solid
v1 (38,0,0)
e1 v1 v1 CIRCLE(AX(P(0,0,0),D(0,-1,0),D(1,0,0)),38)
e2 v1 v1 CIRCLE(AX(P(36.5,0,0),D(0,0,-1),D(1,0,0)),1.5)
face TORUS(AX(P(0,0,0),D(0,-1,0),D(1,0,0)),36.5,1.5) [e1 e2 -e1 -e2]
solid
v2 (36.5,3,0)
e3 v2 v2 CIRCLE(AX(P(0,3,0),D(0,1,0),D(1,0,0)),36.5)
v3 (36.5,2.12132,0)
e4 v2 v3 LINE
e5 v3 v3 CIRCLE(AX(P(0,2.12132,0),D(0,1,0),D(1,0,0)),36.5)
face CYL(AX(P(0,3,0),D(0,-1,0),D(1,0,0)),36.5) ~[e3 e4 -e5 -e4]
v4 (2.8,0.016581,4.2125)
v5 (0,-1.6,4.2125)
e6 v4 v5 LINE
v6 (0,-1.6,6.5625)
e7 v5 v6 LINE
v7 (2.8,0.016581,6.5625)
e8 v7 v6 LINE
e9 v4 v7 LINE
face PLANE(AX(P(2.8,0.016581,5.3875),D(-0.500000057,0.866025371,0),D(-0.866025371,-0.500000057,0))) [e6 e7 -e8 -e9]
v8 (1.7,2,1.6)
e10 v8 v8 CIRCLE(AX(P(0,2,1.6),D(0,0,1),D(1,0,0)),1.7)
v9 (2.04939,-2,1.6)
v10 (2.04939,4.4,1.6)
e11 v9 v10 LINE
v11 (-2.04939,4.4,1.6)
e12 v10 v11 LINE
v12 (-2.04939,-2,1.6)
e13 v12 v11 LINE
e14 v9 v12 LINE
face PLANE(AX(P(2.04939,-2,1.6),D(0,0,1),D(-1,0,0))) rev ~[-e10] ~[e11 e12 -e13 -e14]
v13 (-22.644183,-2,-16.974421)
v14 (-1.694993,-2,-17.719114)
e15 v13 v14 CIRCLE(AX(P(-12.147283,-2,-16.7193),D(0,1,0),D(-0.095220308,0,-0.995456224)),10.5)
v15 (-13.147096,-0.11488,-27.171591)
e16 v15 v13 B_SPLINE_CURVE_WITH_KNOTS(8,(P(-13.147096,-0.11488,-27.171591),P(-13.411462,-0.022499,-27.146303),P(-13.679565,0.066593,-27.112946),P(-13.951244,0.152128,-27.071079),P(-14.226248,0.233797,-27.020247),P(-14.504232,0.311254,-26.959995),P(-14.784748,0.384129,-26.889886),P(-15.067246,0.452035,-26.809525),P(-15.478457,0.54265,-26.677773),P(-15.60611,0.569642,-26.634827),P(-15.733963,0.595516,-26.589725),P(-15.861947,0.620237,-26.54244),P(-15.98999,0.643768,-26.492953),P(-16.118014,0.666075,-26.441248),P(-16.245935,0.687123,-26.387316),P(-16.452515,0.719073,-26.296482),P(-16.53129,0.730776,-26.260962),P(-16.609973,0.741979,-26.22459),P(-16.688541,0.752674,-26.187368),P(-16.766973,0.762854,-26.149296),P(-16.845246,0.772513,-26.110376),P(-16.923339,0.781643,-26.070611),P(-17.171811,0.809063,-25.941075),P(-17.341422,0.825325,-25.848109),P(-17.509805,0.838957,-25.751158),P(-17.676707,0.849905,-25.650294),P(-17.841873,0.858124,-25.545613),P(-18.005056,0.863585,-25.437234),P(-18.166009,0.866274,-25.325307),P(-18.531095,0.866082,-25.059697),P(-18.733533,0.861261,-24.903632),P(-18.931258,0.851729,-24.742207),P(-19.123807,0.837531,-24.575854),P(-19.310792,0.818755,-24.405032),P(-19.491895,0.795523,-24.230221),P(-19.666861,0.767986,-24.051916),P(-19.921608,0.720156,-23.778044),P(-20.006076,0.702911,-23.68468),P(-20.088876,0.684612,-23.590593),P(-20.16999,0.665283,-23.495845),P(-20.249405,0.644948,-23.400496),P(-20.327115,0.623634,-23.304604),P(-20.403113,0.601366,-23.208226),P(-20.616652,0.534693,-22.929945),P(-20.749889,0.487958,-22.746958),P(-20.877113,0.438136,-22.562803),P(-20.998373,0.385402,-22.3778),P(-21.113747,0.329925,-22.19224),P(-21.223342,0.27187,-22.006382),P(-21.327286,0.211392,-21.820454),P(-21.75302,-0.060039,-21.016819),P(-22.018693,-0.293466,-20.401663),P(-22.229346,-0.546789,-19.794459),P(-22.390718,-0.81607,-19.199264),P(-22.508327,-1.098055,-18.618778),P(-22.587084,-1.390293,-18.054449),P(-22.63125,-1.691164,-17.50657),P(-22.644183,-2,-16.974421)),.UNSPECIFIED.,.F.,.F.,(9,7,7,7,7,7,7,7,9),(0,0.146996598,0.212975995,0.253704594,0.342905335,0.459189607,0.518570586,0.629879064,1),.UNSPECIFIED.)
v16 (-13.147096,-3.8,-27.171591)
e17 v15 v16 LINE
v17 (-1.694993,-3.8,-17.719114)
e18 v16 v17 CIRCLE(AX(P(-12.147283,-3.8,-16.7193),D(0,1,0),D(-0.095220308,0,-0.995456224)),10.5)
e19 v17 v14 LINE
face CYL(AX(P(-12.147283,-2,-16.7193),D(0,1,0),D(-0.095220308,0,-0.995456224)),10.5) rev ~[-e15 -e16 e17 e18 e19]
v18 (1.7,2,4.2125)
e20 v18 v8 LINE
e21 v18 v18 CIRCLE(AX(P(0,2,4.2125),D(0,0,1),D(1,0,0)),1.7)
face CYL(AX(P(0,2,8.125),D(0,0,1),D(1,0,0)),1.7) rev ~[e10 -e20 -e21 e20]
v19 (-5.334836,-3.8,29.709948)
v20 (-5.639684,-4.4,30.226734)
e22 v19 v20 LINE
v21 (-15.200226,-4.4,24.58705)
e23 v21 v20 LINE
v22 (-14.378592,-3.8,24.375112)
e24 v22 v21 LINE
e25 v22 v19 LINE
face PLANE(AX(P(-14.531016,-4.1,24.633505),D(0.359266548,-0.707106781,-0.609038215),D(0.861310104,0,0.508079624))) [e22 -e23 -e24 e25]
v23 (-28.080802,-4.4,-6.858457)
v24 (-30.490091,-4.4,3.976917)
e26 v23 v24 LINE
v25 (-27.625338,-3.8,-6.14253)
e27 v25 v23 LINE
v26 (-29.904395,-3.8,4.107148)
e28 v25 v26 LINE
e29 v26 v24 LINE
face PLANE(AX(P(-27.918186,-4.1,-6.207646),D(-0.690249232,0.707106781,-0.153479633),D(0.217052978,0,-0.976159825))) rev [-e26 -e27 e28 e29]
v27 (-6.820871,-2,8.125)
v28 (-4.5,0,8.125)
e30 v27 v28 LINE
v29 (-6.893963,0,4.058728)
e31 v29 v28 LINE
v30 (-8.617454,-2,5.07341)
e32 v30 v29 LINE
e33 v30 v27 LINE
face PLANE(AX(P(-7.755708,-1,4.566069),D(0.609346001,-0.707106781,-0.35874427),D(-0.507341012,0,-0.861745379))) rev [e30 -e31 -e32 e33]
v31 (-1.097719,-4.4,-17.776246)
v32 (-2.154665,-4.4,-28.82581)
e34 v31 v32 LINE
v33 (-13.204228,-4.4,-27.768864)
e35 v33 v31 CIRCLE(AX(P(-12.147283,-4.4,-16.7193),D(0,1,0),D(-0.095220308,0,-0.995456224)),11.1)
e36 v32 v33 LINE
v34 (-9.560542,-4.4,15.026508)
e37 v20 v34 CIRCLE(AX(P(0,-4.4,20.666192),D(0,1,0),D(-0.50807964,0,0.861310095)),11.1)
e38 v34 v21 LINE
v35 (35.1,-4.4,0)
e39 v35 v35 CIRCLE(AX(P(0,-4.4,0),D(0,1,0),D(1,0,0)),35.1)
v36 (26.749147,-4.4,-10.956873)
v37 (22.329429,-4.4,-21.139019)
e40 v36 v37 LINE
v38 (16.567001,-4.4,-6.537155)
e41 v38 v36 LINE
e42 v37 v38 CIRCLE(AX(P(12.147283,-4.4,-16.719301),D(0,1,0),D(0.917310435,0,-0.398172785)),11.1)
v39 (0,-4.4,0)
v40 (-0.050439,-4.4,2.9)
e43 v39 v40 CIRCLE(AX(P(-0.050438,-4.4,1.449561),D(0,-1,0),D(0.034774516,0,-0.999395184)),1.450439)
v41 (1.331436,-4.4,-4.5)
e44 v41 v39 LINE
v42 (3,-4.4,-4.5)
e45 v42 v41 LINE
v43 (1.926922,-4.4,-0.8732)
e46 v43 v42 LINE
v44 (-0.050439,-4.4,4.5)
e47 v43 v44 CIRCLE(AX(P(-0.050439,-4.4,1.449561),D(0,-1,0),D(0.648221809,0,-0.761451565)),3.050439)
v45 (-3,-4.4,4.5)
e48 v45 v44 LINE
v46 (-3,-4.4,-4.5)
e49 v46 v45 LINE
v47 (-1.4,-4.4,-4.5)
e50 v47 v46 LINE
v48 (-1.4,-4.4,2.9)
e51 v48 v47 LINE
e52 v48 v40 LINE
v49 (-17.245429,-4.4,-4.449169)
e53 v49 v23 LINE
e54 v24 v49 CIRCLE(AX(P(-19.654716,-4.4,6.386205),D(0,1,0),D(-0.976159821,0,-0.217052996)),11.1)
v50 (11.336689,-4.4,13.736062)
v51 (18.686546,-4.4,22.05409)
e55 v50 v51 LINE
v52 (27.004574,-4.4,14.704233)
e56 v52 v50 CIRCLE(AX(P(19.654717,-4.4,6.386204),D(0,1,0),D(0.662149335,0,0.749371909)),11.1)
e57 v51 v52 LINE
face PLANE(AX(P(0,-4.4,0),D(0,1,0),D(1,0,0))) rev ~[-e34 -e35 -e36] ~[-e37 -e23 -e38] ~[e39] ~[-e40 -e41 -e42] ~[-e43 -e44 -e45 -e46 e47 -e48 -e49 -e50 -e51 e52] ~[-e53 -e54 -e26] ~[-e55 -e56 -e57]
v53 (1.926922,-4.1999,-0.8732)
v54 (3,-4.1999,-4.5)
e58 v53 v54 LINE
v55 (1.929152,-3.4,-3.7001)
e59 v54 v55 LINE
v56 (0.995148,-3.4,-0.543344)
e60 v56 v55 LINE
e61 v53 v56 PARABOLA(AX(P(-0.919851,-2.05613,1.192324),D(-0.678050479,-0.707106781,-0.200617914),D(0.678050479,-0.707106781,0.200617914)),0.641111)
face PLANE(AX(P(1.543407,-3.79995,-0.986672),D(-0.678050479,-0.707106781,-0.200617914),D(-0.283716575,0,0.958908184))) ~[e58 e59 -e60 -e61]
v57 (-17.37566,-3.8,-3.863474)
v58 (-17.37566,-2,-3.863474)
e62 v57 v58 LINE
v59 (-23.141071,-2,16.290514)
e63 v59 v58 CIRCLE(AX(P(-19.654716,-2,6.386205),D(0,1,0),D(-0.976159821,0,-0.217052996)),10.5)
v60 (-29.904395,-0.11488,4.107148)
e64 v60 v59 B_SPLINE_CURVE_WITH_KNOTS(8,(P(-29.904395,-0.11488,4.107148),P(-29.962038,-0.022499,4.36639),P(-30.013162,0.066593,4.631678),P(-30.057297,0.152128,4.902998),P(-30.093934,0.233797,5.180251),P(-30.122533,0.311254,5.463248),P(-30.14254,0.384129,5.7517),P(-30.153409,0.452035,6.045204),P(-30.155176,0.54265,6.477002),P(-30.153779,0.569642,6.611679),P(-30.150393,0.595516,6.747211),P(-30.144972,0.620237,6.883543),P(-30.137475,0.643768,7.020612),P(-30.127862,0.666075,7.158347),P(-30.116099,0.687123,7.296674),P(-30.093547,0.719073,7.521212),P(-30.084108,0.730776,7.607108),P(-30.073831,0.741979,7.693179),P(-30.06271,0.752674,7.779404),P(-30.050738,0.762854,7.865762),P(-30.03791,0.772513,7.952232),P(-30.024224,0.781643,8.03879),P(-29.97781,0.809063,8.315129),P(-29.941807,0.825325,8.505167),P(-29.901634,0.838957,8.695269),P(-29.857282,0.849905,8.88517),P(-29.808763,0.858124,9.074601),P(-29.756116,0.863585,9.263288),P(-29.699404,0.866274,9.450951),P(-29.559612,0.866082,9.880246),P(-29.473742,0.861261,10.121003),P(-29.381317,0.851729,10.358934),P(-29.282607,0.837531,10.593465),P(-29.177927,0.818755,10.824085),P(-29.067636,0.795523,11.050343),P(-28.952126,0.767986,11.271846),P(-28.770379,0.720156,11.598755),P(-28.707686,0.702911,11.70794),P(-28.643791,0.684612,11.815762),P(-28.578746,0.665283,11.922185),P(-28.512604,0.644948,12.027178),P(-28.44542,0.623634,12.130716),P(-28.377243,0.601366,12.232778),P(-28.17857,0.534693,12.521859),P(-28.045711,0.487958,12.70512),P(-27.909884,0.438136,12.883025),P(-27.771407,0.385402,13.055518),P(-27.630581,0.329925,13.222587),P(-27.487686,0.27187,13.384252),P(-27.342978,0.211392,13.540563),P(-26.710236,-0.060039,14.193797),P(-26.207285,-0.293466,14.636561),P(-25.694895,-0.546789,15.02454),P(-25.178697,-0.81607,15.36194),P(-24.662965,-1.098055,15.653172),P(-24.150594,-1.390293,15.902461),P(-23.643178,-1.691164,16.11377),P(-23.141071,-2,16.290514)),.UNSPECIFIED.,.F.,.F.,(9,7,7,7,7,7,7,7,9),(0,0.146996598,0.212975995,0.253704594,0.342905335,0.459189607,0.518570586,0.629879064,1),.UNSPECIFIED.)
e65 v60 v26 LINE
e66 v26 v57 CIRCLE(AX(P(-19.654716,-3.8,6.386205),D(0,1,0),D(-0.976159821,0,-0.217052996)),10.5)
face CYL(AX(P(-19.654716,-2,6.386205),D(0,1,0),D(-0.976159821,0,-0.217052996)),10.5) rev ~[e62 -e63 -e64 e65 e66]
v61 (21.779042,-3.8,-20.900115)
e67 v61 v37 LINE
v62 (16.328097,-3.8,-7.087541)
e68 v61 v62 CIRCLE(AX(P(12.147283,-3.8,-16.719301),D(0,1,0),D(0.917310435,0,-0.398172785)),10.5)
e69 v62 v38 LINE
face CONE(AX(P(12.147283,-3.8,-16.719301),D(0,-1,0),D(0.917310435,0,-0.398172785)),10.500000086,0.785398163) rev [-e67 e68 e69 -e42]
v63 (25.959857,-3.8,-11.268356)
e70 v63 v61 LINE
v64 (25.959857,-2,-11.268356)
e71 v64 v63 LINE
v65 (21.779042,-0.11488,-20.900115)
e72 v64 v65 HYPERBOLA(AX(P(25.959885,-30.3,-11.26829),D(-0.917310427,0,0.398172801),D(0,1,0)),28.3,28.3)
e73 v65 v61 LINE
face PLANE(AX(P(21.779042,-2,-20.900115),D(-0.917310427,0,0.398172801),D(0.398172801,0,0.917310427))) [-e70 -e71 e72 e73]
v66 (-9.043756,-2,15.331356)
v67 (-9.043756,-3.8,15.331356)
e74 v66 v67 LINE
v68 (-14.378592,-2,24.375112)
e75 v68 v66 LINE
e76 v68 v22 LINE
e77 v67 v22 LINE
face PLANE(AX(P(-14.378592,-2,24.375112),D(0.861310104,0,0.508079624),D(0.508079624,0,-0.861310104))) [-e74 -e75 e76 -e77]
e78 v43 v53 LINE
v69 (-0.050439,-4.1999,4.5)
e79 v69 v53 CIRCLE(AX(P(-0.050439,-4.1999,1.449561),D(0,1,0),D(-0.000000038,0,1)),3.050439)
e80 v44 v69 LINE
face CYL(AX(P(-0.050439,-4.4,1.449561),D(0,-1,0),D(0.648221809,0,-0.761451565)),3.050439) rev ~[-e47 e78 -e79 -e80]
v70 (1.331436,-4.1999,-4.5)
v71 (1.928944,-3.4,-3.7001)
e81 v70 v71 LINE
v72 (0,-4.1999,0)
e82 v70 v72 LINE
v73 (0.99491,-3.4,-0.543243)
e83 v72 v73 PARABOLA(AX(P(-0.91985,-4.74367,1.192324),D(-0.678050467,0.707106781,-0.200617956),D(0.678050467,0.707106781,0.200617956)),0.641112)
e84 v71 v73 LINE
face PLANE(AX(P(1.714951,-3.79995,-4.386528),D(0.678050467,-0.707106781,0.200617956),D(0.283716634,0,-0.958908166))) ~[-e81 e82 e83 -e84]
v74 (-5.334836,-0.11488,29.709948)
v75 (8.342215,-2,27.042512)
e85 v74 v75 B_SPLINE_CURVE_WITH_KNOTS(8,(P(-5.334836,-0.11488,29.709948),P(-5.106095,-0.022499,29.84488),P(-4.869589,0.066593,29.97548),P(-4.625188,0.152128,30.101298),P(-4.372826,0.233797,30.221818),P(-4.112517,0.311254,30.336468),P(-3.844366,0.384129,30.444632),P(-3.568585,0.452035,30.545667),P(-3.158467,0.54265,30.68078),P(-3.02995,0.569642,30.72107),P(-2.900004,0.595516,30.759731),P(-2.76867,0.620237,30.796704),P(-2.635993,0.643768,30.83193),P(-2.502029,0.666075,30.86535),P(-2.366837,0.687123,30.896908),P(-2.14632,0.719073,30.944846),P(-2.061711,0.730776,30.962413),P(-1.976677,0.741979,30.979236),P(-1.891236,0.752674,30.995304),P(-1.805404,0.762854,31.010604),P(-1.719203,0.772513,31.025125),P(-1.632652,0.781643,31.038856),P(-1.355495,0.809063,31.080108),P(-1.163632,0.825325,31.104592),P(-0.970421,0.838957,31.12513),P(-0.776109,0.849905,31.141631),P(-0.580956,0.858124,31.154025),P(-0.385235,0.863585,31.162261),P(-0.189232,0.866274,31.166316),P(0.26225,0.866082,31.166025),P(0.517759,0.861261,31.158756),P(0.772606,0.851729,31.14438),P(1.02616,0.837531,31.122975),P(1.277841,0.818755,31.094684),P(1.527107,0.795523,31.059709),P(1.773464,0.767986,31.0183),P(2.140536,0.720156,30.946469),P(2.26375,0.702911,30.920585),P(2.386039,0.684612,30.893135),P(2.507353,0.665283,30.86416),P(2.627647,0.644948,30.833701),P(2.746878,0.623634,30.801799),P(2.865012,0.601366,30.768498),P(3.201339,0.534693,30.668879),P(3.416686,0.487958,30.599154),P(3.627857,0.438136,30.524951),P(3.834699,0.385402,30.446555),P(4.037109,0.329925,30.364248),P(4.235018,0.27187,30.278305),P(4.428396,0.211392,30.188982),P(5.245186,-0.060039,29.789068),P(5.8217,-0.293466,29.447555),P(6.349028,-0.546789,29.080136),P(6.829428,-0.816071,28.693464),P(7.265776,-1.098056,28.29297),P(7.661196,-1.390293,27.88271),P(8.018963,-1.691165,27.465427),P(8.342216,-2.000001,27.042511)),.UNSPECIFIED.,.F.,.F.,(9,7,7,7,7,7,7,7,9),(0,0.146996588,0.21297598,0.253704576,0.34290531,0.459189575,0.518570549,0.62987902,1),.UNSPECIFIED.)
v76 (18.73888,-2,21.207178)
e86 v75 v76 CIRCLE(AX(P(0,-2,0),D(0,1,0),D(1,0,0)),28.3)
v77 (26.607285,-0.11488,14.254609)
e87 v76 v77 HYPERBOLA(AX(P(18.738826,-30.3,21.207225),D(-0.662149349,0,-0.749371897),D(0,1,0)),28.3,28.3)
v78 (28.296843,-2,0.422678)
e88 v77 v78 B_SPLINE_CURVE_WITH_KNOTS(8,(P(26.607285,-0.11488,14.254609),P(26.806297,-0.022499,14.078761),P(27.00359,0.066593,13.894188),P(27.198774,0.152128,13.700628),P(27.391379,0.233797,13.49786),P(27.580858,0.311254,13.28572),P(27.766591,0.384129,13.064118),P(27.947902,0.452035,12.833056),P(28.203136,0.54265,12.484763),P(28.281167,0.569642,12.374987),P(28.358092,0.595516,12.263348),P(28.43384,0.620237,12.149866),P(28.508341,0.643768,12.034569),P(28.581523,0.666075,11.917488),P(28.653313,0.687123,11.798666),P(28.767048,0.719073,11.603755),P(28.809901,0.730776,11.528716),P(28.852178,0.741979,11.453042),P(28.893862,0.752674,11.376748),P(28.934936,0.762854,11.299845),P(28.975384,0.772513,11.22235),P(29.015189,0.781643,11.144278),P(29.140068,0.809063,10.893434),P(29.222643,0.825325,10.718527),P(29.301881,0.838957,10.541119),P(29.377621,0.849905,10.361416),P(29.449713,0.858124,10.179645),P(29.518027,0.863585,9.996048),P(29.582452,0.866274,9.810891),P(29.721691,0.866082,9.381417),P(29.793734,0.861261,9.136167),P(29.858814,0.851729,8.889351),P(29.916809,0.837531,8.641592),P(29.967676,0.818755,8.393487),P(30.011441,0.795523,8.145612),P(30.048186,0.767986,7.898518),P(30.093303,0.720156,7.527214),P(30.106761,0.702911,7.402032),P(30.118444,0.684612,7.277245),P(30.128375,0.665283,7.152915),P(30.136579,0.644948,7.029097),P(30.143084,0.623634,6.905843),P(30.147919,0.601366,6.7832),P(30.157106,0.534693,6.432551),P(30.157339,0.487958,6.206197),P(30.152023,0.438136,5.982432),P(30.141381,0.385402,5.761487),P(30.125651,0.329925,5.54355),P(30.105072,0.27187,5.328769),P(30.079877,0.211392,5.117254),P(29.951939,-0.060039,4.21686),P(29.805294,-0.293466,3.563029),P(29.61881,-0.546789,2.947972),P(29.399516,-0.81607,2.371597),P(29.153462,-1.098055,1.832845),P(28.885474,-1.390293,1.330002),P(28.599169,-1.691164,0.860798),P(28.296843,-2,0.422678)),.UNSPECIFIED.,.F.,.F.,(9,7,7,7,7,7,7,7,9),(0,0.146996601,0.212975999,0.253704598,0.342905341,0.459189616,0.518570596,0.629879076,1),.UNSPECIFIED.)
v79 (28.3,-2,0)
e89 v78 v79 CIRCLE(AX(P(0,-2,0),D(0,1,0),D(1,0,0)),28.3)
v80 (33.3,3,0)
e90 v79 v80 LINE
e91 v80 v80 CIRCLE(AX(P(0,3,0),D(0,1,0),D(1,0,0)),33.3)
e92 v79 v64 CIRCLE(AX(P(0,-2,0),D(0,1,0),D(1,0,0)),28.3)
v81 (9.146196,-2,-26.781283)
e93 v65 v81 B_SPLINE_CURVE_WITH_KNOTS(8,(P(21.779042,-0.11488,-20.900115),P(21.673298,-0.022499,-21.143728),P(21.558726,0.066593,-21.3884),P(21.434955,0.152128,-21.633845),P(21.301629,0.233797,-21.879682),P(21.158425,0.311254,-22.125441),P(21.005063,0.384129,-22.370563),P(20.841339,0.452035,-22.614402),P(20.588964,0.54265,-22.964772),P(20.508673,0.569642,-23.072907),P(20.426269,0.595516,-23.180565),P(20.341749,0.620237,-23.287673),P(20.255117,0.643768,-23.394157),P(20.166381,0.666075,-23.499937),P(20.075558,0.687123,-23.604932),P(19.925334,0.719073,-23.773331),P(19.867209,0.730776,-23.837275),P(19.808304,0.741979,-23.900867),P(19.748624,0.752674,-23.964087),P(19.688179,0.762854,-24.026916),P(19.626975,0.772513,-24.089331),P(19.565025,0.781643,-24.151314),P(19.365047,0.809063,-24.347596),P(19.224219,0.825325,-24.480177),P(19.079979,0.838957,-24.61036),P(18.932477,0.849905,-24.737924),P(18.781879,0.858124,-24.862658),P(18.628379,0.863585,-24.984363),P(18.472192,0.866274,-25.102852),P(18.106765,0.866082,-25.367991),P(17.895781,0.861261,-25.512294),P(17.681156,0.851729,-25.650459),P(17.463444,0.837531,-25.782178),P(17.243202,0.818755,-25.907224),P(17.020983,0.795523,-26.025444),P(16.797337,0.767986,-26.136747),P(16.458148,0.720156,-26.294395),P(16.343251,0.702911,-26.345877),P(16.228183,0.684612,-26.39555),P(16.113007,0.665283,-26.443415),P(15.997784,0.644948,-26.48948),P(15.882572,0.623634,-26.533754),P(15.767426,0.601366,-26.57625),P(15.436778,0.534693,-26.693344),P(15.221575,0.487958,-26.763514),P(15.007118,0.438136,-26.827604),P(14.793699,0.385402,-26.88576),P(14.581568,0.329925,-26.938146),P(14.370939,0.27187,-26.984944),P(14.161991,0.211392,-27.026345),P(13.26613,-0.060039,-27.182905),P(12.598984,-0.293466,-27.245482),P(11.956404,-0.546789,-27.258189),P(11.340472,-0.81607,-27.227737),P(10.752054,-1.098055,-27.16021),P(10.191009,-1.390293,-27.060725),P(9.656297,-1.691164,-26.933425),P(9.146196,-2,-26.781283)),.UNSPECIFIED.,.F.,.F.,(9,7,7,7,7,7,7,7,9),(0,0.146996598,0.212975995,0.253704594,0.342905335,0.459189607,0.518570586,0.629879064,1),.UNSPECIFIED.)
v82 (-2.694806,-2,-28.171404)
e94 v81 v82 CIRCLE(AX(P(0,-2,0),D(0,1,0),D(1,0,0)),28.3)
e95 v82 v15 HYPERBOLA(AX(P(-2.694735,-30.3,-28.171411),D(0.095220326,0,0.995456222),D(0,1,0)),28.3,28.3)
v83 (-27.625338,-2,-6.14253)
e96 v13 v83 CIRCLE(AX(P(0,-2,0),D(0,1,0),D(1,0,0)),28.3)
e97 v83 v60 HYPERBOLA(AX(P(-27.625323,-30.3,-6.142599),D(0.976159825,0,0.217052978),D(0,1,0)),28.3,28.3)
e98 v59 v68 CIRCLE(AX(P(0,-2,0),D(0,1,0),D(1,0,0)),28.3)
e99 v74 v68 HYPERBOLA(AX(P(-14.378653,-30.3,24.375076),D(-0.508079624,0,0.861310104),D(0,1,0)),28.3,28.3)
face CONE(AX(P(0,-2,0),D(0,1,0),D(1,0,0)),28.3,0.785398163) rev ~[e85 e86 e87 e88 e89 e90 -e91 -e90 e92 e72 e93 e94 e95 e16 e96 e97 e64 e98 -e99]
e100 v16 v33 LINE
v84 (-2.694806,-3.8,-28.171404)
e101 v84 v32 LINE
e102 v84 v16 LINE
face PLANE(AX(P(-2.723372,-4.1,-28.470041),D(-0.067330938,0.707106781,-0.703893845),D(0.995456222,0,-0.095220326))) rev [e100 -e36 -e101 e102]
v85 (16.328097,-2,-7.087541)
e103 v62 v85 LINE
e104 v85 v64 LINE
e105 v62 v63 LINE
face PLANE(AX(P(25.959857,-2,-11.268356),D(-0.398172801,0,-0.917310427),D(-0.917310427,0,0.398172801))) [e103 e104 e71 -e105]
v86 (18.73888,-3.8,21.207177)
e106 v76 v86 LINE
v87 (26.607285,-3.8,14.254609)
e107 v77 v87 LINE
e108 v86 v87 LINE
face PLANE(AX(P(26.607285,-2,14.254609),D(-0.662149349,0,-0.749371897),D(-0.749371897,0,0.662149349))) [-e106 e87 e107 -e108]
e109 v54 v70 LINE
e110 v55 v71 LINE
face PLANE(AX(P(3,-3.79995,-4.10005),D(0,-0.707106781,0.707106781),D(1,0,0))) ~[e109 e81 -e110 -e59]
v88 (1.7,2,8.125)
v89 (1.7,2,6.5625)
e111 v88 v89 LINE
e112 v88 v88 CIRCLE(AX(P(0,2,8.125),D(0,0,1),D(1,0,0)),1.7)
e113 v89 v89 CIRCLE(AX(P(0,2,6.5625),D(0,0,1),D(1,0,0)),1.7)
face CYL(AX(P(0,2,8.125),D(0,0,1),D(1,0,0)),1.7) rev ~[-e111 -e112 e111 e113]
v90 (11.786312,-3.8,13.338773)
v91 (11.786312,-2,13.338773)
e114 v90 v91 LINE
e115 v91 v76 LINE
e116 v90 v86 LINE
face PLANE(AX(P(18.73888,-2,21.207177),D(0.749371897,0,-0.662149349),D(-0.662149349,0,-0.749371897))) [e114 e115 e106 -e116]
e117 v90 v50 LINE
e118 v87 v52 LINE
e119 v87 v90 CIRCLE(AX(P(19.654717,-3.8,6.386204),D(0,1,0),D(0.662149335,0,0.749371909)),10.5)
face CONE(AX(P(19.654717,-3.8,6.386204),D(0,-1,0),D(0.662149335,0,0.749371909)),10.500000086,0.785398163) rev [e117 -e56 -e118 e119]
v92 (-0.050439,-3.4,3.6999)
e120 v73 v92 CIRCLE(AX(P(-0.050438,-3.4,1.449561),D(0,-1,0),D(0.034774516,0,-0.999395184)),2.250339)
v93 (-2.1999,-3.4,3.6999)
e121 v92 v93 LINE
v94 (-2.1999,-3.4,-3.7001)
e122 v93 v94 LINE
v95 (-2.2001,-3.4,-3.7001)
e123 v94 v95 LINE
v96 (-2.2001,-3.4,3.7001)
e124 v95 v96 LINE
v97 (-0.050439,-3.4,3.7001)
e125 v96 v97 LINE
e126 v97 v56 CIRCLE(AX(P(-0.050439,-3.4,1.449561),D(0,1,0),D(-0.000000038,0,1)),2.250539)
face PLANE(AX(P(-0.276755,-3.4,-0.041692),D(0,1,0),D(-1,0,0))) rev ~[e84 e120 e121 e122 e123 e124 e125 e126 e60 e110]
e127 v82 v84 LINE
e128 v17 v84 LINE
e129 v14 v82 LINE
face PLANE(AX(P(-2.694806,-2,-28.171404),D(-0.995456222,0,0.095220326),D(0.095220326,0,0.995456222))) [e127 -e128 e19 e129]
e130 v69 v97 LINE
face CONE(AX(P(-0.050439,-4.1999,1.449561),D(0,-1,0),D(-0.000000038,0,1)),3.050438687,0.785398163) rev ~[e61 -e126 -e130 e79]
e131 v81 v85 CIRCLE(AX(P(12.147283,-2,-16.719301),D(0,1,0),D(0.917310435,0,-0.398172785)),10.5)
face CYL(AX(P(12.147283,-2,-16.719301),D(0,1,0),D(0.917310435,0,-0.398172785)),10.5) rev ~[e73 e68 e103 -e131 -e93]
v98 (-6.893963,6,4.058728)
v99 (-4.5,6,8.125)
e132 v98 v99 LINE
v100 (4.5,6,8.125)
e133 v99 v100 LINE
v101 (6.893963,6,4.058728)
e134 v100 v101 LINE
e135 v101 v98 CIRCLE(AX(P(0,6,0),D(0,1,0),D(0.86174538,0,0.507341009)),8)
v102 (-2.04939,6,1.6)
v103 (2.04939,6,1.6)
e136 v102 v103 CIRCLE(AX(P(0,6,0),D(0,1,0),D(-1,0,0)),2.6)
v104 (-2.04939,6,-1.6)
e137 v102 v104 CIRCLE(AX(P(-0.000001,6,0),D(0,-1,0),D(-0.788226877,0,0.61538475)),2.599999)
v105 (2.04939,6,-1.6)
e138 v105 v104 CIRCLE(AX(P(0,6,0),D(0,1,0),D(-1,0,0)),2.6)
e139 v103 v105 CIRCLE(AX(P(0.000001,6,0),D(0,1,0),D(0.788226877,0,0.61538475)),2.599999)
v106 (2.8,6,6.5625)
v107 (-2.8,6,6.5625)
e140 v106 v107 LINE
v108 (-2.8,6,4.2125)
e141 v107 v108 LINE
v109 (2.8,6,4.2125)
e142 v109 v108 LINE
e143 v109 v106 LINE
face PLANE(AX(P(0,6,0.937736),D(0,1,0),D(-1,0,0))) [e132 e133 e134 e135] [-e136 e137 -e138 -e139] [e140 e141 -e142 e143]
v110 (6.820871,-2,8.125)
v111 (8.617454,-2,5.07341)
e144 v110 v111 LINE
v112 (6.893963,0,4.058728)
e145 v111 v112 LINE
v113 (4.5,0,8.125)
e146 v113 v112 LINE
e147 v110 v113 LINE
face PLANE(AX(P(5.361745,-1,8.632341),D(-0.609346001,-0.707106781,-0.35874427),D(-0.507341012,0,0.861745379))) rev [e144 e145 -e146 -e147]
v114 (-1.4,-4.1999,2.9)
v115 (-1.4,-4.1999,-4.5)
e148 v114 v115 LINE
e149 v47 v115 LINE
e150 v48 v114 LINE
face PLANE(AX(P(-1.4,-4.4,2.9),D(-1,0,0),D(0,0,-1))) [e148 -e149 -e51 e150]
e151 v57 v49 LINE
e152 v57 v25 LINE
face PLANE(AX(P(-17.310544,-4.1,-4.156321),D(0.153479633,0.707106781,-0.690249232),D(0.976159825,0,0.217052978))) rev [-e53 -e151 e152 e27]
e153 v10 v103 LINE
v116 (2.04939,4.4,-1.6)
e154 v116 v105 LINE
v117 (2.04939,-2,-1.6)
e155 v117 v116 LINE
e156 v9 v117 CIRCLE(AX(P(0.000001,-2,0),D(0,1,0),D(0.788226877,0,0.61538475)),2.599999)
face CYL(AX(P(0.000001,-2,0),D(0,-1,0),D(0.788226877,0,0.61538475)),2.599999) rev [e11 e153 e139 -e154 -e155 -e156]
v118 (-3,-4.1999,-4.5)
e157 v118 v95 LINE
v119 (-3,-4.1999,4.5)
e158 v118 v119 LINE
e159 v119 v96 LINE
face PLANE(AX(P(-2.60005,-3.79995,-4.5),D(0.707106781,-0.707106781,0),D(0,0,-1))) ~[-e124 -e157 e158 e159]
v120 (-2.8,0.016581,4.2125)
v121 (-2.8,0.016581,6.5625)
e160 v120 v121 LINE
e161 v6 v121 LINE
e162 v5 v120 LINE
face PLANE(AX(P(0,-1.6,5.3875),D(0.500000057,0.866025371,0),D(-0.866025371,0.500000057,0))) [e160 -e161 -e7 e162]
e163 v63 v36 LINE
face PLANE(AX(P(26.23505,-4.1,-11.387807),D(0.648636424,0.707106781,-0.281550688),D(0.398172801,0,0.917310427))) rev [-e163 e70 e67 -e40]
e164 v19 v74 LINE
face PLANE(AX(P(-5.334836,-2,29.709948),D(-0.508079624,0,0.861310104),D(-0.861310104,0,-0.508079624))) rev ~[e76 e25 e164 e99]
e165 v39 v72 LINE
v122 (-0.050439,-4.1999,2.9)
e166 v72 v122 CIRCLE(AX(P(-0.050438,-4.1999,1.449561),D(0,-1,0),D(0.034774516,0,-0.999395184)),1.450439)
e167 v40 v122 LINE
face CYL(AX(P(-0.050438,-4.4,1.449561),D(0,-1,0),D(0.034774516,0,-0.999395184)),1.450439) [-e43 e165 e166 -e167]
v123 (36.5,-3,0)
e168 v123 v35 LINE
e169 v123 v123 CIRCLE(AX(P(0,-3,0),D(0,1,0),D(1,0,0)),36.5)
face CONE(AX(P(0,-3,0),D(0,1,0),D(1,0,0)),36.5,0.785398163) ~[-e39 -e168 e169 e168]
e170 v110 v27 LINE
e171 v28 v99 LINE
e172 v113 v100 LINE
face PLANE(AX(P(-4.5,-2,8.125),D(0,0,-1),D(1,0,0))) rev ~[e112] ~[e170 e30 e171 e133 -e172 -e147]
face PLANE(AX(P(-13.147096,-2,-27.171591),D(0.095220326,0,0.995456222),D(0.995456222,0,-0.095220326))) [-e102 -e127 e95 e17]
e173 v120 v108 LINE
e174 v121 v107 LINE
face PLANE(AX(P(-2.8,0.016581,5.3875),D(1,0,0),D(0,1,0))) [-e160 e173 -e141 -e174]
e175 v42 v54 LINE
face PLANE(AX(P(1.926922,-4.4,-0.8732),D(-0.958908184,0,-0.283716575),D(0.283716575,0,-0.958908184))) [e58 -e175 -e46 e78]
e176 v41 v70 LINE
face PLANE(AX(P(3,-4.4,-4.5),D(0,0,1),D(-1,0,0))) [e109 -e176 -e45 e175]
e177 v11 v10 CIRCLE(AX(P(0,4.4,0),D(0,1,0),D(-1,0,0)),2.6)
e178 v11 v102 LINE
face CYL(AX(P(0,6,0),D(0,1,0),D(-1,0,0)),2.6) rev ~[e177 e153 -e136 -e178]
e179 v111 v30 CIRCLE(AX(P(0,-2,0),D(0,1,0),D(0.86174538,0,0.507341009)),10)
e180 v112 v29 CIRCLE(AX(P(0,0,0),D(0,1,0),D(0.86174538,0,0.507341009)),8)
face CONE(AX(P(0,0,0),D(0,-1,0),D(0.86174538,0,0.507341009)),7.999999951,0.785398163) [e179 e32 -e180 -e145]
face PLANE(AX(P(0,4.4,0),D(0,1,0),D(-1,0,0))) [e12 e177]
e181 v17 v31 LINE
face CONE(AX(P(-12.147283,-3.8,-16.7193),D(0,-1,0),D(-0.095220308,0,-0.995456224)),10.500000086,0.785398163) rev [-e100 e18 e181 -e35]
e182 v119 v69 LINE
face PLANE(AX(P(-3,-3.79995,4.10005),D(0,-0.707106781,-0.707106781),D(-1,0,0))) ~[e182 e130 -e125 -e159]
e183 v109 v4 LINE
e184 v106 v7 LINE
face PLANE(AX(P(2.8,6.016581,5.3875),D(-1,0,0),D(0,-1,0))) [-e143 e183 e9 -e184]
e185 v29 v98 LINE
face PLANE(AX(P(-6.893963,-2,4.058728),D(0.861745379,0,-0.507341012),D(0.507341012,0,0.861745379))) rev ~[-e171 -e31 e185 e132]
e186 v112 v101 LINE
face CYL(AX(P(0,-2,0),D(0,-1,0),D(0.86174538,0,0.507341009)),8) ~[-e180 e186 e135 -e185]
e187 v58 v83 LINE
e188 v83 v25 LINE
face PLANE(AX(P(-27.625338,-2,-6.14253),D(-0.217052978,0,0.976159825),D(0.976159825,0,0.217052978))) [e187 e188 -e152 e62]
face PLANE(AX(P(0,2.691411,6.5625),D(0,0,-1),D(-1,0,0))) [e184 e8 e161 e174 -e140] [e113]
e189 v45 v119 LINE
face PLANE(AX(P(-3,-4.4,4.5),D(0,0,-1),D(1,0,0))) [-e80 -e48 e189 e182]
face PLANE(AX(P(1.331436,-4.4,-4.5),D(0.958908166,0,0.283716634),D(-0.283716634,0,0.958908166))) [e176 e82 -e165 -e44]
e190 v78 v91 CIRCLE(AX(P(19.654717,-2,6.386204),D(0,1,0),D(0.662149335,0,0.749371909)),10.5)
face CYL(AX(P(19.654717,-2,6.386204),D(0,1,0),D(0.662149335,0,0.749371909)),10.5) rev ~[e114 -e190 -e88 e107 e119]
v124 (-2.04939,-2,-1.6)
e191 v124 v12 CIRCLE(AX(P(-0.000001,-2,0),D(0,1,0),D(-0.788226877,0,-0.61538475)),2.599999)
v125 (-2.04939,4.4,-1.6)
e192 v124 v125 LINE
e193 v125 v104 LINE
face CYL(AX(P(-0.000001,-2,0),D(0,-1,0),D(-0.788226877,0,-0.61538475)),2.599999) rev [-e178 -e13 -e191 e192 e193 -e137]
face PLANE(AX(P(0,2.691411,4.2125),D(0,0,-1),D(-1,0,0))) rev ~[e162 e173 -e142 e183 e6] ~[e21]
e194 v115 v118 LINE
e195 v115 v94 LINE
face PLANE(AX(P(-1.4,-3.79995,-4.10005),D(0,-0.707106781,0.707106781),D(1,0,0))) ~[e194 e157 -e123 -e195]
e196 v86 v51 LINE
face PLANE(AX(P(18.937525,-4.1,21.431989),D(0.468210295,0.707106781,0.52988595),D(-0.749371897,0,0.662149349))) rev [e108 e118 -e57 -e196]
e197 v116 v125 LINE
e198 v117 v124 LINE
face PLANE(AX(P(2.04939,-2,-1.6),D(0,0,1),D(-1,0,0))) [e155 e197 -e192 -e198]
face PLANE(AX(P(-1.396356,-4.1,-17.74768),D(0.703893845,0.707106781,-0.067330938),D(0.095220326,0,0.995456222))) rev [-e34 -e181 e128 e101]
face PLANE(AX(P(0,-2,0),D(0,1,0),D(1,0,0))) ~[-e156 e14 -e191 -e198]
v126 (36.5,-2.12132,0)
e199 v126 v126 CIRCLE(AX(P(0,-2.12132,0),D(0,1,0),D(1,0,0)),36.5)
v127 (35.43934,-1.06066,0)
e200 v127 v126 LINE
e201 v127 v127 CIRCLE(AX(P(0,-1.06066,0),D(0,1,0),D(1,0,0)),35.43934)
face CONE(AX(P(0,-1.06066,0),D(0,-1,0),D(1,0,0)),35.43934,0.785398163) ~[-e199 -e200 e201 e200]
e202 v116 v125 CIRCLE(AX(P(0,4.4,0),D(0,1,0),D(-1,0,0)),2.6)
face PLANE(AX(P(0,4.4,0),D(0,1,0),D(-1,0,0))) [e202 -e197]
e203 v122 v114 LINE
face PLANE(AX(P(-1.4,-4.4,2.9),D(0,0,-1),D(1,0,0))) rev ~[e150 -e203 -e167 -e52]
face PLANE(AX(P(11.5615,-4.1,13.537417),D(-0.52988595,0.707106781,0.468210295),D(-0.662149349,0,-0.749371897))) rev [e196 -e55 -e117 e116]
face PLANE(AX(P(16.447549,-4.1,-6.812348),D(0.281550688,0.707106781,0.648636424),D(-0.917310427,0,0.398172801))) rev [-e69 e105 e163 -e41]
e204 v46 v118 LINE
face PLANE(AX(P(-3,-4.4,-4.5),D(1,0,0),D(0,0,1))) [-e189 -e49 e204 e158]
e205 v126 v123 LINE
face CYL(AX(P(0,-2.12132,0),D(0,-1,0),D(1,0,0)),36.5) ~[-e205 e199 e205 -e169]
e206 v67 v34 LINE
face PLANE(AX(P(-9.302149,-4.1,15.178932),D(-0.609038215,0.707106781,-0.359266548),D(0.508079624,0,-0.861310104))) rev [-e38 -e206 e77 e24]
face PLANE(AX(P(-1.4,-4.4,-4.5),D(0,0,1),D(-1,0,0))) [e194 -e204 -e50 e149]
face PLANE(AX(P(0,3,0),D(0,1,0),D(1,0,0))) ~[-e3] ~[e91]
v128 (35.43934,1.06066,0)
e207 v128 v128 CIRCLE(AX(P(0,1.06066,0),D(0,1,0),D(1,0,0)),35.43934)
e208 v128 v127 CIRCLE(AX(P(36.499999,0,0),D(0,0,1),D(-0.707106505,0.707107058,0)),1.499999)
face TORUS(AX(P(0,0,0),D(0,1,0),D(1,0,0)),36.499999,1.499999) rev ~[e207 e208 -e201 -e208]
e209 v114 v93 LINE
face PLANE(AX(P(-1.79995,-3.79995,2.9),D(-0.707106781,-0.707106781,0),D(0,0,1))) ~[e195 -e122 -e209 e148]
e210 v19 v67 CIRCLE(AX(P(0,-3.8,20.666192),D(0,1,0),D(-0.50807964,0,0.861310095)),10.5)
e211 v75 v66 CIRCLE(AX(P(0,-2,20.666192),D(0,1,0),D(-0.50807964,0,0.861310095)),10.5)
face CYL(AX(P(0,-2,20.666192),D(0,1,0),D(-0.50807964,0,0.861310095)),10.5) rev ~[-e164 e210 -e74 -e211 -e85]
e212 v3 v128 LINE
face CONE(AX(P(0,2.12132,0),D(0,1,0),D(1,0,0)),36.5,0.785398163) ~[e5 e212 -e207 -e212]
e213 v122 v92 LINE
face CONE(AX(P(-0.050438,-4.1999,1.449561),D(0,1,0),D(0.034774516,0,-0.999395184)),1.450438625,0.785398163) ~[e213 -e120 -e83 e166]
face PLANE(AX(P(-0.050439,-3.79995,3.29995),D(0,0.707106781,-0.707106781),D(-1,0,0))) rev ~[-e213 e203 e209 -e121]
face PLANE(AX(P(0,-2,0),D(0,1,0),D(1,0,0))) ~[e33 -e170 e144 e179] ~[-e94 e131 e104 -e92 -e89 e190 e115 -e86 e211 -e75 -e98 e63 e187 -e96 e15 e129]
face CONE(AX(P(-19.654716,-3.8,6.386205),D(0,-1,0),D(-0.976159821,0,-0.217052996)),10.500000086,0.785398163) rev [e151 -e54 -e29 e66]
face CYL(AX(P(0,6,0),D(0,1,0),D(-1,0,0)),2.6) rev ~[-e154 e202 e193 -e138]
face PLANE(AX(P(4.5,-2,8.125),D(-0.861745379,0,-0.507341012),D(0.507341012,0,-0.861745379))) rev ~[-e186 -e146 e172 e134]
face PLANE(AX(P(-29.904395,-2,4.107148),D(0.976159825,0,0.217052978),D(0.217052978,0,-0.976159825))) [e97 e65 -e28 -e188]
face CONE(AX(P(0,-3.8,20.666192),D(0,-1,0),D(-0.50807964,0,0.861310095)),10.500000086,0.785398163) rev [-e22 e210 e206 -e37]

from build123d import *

# Parameters (mm, degrees)
PAD_DEPTH             = 8
CHAMFER_SIZE          = 2
SKETCH002_R           = 2.6
POCKET_DEPTH          = 1.6
SKETCH003_R           = 1.7
POCKET001_DEPTH       = 8
POCKET002_DEPTH       = 1.175
POCKET005_DEPTH       = 209.921216
POCKET005_DEPTH_BACK  = 215.521216
POLARPATTERN001_COUNT = 5
CHAMFER004_SIZE       = 0.6
POCKET008_DEPTH       = 1
CHAMFER005_SIZE       = 0.7999
TORUS001_R            = 1.5


with BuildPart() as body_wheel_right:
    # Sketch → Revolution (revolve)
    with BuildSketch(Plane.XY):
        with BuildLine():
            Line((0, -2), (28.3, -2))
            Line((28.3, -2), (33.3, 3))
            Line((33.3, 3), (36.5, 3))
            Line((36.5, 3), (36.5, 2.12132))
            Line((36.5, 2.12132), (35.43934, 1.06066))
            ThreePointArc((35.43934, 1.06066), (35, 0), (35.43934, -1.06066))
            Line((35.43934, -1.06066), (36.5, -2.12132))
            Line((36.5, -2.12132), (36.5, -3))
            Line((36.5, -3), (35.1, -4.4))
            Line((35.1, -4.4), (0, -4.4))
            Line((0, -4.4), (0, -2))
        make_face()
    revolve(axis=Axis((0, 0, 0), (0, 1, 0)))

    # Sketch001 (on Face1 of Revolution) → Pad (new body)
    with BuildSketch(Plane(origin=(0, -2, 0), x_dir=(-1, 0, 0), z_dir=(0, 1, 0))):
        with BuildLine():
            Line((4.5, 8.125), (-4.5, 8.125))
            Line((-4.5, 8.125), (-6.893963, 4.058728))
            ThreePointArc((-6.893963, 4.058728), (0, -8), (6.893963, 4.058728))
            Line((6.893963, 4.058728), (4.5, 8.125))
        make_face()
        with BuildLine():
            Line((-2.04939, 1.6), (2.04939, 1.6))
            ThreePointArc((2.04939, -1.6), (2.6, 0), (2.04939, 1.6))
            Line((-2.04939, -1.6), (2.04939, -1.6))
            ThreePointArc((-2.04939, 1.6), (-2.6, 0), (-2.04939, -1.6))
        make_face(mode=Mode.SUBTRACT)
    extrude(amount=PAD_DEPTH)

    # Chamfer
    chamfer_edges = [body_wheel_right.edges().sort_by_distance(p)[0] for p in [
        (0, -2, -8),
    ]]
    chamfer(chamfer_edges, length=CHAMFER_SIZE)

    # Sketch002 (on Face8 of Chamfer) → Pocket (cut)
    with BuildSketch(Plane(origin=(0, 6, 0), x_dir=(-1, 0, 0), z_dir=(0, 1, 0))):
        Circle(SKETCH002_R)
    extrude(amount=-POCKET_DEPTH, mode=Mode.SUBTRACT)

    # Sketch003 (on Face8 of Pocket) → Pocket001 (cut)
    with BuildSketch(Plane.XY.offset(8.125)):
        with Locations((0, 2)):
            Circle(SKETCH003_R)
    extrude(amount=-POCKET001_DEPTH, mode=Mode.SUBTRACT)

    # Sketch004 (on Face9 of Pocket001) → Pocket002 (cut, symmetric)
    with BuildSketch(Plane.XY.offset(5.3875)):
        Polygon((-2.8, 0.016581), (-2.8, 6.016581), (2.8, 6.016581), (2.8, 0.016581), (0, -1.6), align=None)
    extrude(amount=POCKET002_DEPTH, both=True, mode=Mode.SUBTRACT)

    # Sketch010 (on Face20 of Clone001) → Pocket005 (cut, two sides)
    with BuildSketch(Plane(origin=(0, -2, 0), x_dir=(-1, 0, 0), z_dir=(0, 1, 0))) as pocket005_sk:
        with BuildLine():
            ThreePointArc((5.334836, 29.709948), (-10.1672, 18.043588), (9.043756, 15.331356))
            Line((14.378592, 24.375112), (9.043756, 15.331356))
            Line((5.334836, 29.709948), (14.378592, 24.375112))
        make_face()
    pocket005 = extrude(amount=-POCKET005_DEPTH, mode=Mode.SUBTRACT) + extrude(pocket005_sk.sketch, amount=POCKET005_DEPTH_BACK, mode=Mode.SUBTRACT)

    # PolarPattern001: Pocket005 ×5 about axis
    polarpattern001_axis = Axis((0, -2, 0), (0, 1, 0))
    for i in range(1, POLARPATTERN001_COUNT):
        add(pocket005.rotate(polarpattern001_axis, i * 360 / POLARPATTERN001_COUNT), mode=Mode.SUBTRACT)

    # Chamfer004
    chamfer004_edges = [body_wheel_right.edges().sort_by_distance(p)[0] for p in [
        (10.1672, -4.4, 18.043588),
        (20.30231, -4.4, -4.093806),
        (2.380318, -4.4, -20.5737),
        (-18.831193, -4.4, -8.621439),
        (-14.018635, -4.4, 15.245357),
    ]]
    chamfer(chamfer004_edges, length=CHAMFER004_SIZE)

    # Sketch007 (on Face9 of Chamfer004) → Pocket008 (cut)
    with BuildSketch(Plane.XZ.offset(4.4)):
        with BuildLine():
            Line((-1.4, 2.9), (-1.4, -4.5))
            Line((-1.4, -4.5), (-3, -4.5))
            Line((-3, -4.5), (-3, 4.5))
            Line((-3, 4.5), (-0.050439, 4.5))
            ThreePointArc((1.926922, -0.8732), (2.812306, 2.503064), (-0.050439, 4.5))
            Line((1.926922, -0.8732), (3, -4.5))
            Line((3, -4.5), (1.331436, -4.5))
            Line((1.331436, -4.5), (0, 0))
            ThreePointArc((0, 0), (1.399781, 1.474784), (-0.050439, 2.9))
            Line((-1.4, 2.9), (-0.050439, 2.9))
        make_face()
    extrude(amount=-POCKET008_DEPTH, mode=Mode.SUBTRACT)

    # Chamfer005
    chamfer005_edges = [body_wheel_right.edges().sort_by_distance(p)[0] for p in [
        (-1.4, -3.4, -0.8),
        (-2.2, -3.4, -4.5),
        (-3, -3.4, 0),
        (-1.525219, -3.4, 4.5),
        (2.812306, -3.4, 2.503064),
        (2.463461, -3.4, -2.6866),
        (2.165718, -3.4, -4.5),
        (0.665718, -3.4, -2.25),
        (1.399781, -3.4, 1.474784),
        (-0.725219, -3.4, 2.9),
    ]]
    chamfer(chamfer005_edges, length=CHAMFER005_SIZE)


with BuildPart() as o_ring_r:
    # Torus001 → Torus001 (revolve)
    with BuildSketch(Plane(origin=(0, 0, 0), x_dir=(1, 0, 0), z_dir=(0, 0, -1))):
        with Locations((36.5, 0)):
            Circle(TORUS001_R)
    revolve(axis=Axis((0, 0, 0), (0, -1, 0)))


solid = Compound([body_wheel_right.part, o_ring_r.part])
